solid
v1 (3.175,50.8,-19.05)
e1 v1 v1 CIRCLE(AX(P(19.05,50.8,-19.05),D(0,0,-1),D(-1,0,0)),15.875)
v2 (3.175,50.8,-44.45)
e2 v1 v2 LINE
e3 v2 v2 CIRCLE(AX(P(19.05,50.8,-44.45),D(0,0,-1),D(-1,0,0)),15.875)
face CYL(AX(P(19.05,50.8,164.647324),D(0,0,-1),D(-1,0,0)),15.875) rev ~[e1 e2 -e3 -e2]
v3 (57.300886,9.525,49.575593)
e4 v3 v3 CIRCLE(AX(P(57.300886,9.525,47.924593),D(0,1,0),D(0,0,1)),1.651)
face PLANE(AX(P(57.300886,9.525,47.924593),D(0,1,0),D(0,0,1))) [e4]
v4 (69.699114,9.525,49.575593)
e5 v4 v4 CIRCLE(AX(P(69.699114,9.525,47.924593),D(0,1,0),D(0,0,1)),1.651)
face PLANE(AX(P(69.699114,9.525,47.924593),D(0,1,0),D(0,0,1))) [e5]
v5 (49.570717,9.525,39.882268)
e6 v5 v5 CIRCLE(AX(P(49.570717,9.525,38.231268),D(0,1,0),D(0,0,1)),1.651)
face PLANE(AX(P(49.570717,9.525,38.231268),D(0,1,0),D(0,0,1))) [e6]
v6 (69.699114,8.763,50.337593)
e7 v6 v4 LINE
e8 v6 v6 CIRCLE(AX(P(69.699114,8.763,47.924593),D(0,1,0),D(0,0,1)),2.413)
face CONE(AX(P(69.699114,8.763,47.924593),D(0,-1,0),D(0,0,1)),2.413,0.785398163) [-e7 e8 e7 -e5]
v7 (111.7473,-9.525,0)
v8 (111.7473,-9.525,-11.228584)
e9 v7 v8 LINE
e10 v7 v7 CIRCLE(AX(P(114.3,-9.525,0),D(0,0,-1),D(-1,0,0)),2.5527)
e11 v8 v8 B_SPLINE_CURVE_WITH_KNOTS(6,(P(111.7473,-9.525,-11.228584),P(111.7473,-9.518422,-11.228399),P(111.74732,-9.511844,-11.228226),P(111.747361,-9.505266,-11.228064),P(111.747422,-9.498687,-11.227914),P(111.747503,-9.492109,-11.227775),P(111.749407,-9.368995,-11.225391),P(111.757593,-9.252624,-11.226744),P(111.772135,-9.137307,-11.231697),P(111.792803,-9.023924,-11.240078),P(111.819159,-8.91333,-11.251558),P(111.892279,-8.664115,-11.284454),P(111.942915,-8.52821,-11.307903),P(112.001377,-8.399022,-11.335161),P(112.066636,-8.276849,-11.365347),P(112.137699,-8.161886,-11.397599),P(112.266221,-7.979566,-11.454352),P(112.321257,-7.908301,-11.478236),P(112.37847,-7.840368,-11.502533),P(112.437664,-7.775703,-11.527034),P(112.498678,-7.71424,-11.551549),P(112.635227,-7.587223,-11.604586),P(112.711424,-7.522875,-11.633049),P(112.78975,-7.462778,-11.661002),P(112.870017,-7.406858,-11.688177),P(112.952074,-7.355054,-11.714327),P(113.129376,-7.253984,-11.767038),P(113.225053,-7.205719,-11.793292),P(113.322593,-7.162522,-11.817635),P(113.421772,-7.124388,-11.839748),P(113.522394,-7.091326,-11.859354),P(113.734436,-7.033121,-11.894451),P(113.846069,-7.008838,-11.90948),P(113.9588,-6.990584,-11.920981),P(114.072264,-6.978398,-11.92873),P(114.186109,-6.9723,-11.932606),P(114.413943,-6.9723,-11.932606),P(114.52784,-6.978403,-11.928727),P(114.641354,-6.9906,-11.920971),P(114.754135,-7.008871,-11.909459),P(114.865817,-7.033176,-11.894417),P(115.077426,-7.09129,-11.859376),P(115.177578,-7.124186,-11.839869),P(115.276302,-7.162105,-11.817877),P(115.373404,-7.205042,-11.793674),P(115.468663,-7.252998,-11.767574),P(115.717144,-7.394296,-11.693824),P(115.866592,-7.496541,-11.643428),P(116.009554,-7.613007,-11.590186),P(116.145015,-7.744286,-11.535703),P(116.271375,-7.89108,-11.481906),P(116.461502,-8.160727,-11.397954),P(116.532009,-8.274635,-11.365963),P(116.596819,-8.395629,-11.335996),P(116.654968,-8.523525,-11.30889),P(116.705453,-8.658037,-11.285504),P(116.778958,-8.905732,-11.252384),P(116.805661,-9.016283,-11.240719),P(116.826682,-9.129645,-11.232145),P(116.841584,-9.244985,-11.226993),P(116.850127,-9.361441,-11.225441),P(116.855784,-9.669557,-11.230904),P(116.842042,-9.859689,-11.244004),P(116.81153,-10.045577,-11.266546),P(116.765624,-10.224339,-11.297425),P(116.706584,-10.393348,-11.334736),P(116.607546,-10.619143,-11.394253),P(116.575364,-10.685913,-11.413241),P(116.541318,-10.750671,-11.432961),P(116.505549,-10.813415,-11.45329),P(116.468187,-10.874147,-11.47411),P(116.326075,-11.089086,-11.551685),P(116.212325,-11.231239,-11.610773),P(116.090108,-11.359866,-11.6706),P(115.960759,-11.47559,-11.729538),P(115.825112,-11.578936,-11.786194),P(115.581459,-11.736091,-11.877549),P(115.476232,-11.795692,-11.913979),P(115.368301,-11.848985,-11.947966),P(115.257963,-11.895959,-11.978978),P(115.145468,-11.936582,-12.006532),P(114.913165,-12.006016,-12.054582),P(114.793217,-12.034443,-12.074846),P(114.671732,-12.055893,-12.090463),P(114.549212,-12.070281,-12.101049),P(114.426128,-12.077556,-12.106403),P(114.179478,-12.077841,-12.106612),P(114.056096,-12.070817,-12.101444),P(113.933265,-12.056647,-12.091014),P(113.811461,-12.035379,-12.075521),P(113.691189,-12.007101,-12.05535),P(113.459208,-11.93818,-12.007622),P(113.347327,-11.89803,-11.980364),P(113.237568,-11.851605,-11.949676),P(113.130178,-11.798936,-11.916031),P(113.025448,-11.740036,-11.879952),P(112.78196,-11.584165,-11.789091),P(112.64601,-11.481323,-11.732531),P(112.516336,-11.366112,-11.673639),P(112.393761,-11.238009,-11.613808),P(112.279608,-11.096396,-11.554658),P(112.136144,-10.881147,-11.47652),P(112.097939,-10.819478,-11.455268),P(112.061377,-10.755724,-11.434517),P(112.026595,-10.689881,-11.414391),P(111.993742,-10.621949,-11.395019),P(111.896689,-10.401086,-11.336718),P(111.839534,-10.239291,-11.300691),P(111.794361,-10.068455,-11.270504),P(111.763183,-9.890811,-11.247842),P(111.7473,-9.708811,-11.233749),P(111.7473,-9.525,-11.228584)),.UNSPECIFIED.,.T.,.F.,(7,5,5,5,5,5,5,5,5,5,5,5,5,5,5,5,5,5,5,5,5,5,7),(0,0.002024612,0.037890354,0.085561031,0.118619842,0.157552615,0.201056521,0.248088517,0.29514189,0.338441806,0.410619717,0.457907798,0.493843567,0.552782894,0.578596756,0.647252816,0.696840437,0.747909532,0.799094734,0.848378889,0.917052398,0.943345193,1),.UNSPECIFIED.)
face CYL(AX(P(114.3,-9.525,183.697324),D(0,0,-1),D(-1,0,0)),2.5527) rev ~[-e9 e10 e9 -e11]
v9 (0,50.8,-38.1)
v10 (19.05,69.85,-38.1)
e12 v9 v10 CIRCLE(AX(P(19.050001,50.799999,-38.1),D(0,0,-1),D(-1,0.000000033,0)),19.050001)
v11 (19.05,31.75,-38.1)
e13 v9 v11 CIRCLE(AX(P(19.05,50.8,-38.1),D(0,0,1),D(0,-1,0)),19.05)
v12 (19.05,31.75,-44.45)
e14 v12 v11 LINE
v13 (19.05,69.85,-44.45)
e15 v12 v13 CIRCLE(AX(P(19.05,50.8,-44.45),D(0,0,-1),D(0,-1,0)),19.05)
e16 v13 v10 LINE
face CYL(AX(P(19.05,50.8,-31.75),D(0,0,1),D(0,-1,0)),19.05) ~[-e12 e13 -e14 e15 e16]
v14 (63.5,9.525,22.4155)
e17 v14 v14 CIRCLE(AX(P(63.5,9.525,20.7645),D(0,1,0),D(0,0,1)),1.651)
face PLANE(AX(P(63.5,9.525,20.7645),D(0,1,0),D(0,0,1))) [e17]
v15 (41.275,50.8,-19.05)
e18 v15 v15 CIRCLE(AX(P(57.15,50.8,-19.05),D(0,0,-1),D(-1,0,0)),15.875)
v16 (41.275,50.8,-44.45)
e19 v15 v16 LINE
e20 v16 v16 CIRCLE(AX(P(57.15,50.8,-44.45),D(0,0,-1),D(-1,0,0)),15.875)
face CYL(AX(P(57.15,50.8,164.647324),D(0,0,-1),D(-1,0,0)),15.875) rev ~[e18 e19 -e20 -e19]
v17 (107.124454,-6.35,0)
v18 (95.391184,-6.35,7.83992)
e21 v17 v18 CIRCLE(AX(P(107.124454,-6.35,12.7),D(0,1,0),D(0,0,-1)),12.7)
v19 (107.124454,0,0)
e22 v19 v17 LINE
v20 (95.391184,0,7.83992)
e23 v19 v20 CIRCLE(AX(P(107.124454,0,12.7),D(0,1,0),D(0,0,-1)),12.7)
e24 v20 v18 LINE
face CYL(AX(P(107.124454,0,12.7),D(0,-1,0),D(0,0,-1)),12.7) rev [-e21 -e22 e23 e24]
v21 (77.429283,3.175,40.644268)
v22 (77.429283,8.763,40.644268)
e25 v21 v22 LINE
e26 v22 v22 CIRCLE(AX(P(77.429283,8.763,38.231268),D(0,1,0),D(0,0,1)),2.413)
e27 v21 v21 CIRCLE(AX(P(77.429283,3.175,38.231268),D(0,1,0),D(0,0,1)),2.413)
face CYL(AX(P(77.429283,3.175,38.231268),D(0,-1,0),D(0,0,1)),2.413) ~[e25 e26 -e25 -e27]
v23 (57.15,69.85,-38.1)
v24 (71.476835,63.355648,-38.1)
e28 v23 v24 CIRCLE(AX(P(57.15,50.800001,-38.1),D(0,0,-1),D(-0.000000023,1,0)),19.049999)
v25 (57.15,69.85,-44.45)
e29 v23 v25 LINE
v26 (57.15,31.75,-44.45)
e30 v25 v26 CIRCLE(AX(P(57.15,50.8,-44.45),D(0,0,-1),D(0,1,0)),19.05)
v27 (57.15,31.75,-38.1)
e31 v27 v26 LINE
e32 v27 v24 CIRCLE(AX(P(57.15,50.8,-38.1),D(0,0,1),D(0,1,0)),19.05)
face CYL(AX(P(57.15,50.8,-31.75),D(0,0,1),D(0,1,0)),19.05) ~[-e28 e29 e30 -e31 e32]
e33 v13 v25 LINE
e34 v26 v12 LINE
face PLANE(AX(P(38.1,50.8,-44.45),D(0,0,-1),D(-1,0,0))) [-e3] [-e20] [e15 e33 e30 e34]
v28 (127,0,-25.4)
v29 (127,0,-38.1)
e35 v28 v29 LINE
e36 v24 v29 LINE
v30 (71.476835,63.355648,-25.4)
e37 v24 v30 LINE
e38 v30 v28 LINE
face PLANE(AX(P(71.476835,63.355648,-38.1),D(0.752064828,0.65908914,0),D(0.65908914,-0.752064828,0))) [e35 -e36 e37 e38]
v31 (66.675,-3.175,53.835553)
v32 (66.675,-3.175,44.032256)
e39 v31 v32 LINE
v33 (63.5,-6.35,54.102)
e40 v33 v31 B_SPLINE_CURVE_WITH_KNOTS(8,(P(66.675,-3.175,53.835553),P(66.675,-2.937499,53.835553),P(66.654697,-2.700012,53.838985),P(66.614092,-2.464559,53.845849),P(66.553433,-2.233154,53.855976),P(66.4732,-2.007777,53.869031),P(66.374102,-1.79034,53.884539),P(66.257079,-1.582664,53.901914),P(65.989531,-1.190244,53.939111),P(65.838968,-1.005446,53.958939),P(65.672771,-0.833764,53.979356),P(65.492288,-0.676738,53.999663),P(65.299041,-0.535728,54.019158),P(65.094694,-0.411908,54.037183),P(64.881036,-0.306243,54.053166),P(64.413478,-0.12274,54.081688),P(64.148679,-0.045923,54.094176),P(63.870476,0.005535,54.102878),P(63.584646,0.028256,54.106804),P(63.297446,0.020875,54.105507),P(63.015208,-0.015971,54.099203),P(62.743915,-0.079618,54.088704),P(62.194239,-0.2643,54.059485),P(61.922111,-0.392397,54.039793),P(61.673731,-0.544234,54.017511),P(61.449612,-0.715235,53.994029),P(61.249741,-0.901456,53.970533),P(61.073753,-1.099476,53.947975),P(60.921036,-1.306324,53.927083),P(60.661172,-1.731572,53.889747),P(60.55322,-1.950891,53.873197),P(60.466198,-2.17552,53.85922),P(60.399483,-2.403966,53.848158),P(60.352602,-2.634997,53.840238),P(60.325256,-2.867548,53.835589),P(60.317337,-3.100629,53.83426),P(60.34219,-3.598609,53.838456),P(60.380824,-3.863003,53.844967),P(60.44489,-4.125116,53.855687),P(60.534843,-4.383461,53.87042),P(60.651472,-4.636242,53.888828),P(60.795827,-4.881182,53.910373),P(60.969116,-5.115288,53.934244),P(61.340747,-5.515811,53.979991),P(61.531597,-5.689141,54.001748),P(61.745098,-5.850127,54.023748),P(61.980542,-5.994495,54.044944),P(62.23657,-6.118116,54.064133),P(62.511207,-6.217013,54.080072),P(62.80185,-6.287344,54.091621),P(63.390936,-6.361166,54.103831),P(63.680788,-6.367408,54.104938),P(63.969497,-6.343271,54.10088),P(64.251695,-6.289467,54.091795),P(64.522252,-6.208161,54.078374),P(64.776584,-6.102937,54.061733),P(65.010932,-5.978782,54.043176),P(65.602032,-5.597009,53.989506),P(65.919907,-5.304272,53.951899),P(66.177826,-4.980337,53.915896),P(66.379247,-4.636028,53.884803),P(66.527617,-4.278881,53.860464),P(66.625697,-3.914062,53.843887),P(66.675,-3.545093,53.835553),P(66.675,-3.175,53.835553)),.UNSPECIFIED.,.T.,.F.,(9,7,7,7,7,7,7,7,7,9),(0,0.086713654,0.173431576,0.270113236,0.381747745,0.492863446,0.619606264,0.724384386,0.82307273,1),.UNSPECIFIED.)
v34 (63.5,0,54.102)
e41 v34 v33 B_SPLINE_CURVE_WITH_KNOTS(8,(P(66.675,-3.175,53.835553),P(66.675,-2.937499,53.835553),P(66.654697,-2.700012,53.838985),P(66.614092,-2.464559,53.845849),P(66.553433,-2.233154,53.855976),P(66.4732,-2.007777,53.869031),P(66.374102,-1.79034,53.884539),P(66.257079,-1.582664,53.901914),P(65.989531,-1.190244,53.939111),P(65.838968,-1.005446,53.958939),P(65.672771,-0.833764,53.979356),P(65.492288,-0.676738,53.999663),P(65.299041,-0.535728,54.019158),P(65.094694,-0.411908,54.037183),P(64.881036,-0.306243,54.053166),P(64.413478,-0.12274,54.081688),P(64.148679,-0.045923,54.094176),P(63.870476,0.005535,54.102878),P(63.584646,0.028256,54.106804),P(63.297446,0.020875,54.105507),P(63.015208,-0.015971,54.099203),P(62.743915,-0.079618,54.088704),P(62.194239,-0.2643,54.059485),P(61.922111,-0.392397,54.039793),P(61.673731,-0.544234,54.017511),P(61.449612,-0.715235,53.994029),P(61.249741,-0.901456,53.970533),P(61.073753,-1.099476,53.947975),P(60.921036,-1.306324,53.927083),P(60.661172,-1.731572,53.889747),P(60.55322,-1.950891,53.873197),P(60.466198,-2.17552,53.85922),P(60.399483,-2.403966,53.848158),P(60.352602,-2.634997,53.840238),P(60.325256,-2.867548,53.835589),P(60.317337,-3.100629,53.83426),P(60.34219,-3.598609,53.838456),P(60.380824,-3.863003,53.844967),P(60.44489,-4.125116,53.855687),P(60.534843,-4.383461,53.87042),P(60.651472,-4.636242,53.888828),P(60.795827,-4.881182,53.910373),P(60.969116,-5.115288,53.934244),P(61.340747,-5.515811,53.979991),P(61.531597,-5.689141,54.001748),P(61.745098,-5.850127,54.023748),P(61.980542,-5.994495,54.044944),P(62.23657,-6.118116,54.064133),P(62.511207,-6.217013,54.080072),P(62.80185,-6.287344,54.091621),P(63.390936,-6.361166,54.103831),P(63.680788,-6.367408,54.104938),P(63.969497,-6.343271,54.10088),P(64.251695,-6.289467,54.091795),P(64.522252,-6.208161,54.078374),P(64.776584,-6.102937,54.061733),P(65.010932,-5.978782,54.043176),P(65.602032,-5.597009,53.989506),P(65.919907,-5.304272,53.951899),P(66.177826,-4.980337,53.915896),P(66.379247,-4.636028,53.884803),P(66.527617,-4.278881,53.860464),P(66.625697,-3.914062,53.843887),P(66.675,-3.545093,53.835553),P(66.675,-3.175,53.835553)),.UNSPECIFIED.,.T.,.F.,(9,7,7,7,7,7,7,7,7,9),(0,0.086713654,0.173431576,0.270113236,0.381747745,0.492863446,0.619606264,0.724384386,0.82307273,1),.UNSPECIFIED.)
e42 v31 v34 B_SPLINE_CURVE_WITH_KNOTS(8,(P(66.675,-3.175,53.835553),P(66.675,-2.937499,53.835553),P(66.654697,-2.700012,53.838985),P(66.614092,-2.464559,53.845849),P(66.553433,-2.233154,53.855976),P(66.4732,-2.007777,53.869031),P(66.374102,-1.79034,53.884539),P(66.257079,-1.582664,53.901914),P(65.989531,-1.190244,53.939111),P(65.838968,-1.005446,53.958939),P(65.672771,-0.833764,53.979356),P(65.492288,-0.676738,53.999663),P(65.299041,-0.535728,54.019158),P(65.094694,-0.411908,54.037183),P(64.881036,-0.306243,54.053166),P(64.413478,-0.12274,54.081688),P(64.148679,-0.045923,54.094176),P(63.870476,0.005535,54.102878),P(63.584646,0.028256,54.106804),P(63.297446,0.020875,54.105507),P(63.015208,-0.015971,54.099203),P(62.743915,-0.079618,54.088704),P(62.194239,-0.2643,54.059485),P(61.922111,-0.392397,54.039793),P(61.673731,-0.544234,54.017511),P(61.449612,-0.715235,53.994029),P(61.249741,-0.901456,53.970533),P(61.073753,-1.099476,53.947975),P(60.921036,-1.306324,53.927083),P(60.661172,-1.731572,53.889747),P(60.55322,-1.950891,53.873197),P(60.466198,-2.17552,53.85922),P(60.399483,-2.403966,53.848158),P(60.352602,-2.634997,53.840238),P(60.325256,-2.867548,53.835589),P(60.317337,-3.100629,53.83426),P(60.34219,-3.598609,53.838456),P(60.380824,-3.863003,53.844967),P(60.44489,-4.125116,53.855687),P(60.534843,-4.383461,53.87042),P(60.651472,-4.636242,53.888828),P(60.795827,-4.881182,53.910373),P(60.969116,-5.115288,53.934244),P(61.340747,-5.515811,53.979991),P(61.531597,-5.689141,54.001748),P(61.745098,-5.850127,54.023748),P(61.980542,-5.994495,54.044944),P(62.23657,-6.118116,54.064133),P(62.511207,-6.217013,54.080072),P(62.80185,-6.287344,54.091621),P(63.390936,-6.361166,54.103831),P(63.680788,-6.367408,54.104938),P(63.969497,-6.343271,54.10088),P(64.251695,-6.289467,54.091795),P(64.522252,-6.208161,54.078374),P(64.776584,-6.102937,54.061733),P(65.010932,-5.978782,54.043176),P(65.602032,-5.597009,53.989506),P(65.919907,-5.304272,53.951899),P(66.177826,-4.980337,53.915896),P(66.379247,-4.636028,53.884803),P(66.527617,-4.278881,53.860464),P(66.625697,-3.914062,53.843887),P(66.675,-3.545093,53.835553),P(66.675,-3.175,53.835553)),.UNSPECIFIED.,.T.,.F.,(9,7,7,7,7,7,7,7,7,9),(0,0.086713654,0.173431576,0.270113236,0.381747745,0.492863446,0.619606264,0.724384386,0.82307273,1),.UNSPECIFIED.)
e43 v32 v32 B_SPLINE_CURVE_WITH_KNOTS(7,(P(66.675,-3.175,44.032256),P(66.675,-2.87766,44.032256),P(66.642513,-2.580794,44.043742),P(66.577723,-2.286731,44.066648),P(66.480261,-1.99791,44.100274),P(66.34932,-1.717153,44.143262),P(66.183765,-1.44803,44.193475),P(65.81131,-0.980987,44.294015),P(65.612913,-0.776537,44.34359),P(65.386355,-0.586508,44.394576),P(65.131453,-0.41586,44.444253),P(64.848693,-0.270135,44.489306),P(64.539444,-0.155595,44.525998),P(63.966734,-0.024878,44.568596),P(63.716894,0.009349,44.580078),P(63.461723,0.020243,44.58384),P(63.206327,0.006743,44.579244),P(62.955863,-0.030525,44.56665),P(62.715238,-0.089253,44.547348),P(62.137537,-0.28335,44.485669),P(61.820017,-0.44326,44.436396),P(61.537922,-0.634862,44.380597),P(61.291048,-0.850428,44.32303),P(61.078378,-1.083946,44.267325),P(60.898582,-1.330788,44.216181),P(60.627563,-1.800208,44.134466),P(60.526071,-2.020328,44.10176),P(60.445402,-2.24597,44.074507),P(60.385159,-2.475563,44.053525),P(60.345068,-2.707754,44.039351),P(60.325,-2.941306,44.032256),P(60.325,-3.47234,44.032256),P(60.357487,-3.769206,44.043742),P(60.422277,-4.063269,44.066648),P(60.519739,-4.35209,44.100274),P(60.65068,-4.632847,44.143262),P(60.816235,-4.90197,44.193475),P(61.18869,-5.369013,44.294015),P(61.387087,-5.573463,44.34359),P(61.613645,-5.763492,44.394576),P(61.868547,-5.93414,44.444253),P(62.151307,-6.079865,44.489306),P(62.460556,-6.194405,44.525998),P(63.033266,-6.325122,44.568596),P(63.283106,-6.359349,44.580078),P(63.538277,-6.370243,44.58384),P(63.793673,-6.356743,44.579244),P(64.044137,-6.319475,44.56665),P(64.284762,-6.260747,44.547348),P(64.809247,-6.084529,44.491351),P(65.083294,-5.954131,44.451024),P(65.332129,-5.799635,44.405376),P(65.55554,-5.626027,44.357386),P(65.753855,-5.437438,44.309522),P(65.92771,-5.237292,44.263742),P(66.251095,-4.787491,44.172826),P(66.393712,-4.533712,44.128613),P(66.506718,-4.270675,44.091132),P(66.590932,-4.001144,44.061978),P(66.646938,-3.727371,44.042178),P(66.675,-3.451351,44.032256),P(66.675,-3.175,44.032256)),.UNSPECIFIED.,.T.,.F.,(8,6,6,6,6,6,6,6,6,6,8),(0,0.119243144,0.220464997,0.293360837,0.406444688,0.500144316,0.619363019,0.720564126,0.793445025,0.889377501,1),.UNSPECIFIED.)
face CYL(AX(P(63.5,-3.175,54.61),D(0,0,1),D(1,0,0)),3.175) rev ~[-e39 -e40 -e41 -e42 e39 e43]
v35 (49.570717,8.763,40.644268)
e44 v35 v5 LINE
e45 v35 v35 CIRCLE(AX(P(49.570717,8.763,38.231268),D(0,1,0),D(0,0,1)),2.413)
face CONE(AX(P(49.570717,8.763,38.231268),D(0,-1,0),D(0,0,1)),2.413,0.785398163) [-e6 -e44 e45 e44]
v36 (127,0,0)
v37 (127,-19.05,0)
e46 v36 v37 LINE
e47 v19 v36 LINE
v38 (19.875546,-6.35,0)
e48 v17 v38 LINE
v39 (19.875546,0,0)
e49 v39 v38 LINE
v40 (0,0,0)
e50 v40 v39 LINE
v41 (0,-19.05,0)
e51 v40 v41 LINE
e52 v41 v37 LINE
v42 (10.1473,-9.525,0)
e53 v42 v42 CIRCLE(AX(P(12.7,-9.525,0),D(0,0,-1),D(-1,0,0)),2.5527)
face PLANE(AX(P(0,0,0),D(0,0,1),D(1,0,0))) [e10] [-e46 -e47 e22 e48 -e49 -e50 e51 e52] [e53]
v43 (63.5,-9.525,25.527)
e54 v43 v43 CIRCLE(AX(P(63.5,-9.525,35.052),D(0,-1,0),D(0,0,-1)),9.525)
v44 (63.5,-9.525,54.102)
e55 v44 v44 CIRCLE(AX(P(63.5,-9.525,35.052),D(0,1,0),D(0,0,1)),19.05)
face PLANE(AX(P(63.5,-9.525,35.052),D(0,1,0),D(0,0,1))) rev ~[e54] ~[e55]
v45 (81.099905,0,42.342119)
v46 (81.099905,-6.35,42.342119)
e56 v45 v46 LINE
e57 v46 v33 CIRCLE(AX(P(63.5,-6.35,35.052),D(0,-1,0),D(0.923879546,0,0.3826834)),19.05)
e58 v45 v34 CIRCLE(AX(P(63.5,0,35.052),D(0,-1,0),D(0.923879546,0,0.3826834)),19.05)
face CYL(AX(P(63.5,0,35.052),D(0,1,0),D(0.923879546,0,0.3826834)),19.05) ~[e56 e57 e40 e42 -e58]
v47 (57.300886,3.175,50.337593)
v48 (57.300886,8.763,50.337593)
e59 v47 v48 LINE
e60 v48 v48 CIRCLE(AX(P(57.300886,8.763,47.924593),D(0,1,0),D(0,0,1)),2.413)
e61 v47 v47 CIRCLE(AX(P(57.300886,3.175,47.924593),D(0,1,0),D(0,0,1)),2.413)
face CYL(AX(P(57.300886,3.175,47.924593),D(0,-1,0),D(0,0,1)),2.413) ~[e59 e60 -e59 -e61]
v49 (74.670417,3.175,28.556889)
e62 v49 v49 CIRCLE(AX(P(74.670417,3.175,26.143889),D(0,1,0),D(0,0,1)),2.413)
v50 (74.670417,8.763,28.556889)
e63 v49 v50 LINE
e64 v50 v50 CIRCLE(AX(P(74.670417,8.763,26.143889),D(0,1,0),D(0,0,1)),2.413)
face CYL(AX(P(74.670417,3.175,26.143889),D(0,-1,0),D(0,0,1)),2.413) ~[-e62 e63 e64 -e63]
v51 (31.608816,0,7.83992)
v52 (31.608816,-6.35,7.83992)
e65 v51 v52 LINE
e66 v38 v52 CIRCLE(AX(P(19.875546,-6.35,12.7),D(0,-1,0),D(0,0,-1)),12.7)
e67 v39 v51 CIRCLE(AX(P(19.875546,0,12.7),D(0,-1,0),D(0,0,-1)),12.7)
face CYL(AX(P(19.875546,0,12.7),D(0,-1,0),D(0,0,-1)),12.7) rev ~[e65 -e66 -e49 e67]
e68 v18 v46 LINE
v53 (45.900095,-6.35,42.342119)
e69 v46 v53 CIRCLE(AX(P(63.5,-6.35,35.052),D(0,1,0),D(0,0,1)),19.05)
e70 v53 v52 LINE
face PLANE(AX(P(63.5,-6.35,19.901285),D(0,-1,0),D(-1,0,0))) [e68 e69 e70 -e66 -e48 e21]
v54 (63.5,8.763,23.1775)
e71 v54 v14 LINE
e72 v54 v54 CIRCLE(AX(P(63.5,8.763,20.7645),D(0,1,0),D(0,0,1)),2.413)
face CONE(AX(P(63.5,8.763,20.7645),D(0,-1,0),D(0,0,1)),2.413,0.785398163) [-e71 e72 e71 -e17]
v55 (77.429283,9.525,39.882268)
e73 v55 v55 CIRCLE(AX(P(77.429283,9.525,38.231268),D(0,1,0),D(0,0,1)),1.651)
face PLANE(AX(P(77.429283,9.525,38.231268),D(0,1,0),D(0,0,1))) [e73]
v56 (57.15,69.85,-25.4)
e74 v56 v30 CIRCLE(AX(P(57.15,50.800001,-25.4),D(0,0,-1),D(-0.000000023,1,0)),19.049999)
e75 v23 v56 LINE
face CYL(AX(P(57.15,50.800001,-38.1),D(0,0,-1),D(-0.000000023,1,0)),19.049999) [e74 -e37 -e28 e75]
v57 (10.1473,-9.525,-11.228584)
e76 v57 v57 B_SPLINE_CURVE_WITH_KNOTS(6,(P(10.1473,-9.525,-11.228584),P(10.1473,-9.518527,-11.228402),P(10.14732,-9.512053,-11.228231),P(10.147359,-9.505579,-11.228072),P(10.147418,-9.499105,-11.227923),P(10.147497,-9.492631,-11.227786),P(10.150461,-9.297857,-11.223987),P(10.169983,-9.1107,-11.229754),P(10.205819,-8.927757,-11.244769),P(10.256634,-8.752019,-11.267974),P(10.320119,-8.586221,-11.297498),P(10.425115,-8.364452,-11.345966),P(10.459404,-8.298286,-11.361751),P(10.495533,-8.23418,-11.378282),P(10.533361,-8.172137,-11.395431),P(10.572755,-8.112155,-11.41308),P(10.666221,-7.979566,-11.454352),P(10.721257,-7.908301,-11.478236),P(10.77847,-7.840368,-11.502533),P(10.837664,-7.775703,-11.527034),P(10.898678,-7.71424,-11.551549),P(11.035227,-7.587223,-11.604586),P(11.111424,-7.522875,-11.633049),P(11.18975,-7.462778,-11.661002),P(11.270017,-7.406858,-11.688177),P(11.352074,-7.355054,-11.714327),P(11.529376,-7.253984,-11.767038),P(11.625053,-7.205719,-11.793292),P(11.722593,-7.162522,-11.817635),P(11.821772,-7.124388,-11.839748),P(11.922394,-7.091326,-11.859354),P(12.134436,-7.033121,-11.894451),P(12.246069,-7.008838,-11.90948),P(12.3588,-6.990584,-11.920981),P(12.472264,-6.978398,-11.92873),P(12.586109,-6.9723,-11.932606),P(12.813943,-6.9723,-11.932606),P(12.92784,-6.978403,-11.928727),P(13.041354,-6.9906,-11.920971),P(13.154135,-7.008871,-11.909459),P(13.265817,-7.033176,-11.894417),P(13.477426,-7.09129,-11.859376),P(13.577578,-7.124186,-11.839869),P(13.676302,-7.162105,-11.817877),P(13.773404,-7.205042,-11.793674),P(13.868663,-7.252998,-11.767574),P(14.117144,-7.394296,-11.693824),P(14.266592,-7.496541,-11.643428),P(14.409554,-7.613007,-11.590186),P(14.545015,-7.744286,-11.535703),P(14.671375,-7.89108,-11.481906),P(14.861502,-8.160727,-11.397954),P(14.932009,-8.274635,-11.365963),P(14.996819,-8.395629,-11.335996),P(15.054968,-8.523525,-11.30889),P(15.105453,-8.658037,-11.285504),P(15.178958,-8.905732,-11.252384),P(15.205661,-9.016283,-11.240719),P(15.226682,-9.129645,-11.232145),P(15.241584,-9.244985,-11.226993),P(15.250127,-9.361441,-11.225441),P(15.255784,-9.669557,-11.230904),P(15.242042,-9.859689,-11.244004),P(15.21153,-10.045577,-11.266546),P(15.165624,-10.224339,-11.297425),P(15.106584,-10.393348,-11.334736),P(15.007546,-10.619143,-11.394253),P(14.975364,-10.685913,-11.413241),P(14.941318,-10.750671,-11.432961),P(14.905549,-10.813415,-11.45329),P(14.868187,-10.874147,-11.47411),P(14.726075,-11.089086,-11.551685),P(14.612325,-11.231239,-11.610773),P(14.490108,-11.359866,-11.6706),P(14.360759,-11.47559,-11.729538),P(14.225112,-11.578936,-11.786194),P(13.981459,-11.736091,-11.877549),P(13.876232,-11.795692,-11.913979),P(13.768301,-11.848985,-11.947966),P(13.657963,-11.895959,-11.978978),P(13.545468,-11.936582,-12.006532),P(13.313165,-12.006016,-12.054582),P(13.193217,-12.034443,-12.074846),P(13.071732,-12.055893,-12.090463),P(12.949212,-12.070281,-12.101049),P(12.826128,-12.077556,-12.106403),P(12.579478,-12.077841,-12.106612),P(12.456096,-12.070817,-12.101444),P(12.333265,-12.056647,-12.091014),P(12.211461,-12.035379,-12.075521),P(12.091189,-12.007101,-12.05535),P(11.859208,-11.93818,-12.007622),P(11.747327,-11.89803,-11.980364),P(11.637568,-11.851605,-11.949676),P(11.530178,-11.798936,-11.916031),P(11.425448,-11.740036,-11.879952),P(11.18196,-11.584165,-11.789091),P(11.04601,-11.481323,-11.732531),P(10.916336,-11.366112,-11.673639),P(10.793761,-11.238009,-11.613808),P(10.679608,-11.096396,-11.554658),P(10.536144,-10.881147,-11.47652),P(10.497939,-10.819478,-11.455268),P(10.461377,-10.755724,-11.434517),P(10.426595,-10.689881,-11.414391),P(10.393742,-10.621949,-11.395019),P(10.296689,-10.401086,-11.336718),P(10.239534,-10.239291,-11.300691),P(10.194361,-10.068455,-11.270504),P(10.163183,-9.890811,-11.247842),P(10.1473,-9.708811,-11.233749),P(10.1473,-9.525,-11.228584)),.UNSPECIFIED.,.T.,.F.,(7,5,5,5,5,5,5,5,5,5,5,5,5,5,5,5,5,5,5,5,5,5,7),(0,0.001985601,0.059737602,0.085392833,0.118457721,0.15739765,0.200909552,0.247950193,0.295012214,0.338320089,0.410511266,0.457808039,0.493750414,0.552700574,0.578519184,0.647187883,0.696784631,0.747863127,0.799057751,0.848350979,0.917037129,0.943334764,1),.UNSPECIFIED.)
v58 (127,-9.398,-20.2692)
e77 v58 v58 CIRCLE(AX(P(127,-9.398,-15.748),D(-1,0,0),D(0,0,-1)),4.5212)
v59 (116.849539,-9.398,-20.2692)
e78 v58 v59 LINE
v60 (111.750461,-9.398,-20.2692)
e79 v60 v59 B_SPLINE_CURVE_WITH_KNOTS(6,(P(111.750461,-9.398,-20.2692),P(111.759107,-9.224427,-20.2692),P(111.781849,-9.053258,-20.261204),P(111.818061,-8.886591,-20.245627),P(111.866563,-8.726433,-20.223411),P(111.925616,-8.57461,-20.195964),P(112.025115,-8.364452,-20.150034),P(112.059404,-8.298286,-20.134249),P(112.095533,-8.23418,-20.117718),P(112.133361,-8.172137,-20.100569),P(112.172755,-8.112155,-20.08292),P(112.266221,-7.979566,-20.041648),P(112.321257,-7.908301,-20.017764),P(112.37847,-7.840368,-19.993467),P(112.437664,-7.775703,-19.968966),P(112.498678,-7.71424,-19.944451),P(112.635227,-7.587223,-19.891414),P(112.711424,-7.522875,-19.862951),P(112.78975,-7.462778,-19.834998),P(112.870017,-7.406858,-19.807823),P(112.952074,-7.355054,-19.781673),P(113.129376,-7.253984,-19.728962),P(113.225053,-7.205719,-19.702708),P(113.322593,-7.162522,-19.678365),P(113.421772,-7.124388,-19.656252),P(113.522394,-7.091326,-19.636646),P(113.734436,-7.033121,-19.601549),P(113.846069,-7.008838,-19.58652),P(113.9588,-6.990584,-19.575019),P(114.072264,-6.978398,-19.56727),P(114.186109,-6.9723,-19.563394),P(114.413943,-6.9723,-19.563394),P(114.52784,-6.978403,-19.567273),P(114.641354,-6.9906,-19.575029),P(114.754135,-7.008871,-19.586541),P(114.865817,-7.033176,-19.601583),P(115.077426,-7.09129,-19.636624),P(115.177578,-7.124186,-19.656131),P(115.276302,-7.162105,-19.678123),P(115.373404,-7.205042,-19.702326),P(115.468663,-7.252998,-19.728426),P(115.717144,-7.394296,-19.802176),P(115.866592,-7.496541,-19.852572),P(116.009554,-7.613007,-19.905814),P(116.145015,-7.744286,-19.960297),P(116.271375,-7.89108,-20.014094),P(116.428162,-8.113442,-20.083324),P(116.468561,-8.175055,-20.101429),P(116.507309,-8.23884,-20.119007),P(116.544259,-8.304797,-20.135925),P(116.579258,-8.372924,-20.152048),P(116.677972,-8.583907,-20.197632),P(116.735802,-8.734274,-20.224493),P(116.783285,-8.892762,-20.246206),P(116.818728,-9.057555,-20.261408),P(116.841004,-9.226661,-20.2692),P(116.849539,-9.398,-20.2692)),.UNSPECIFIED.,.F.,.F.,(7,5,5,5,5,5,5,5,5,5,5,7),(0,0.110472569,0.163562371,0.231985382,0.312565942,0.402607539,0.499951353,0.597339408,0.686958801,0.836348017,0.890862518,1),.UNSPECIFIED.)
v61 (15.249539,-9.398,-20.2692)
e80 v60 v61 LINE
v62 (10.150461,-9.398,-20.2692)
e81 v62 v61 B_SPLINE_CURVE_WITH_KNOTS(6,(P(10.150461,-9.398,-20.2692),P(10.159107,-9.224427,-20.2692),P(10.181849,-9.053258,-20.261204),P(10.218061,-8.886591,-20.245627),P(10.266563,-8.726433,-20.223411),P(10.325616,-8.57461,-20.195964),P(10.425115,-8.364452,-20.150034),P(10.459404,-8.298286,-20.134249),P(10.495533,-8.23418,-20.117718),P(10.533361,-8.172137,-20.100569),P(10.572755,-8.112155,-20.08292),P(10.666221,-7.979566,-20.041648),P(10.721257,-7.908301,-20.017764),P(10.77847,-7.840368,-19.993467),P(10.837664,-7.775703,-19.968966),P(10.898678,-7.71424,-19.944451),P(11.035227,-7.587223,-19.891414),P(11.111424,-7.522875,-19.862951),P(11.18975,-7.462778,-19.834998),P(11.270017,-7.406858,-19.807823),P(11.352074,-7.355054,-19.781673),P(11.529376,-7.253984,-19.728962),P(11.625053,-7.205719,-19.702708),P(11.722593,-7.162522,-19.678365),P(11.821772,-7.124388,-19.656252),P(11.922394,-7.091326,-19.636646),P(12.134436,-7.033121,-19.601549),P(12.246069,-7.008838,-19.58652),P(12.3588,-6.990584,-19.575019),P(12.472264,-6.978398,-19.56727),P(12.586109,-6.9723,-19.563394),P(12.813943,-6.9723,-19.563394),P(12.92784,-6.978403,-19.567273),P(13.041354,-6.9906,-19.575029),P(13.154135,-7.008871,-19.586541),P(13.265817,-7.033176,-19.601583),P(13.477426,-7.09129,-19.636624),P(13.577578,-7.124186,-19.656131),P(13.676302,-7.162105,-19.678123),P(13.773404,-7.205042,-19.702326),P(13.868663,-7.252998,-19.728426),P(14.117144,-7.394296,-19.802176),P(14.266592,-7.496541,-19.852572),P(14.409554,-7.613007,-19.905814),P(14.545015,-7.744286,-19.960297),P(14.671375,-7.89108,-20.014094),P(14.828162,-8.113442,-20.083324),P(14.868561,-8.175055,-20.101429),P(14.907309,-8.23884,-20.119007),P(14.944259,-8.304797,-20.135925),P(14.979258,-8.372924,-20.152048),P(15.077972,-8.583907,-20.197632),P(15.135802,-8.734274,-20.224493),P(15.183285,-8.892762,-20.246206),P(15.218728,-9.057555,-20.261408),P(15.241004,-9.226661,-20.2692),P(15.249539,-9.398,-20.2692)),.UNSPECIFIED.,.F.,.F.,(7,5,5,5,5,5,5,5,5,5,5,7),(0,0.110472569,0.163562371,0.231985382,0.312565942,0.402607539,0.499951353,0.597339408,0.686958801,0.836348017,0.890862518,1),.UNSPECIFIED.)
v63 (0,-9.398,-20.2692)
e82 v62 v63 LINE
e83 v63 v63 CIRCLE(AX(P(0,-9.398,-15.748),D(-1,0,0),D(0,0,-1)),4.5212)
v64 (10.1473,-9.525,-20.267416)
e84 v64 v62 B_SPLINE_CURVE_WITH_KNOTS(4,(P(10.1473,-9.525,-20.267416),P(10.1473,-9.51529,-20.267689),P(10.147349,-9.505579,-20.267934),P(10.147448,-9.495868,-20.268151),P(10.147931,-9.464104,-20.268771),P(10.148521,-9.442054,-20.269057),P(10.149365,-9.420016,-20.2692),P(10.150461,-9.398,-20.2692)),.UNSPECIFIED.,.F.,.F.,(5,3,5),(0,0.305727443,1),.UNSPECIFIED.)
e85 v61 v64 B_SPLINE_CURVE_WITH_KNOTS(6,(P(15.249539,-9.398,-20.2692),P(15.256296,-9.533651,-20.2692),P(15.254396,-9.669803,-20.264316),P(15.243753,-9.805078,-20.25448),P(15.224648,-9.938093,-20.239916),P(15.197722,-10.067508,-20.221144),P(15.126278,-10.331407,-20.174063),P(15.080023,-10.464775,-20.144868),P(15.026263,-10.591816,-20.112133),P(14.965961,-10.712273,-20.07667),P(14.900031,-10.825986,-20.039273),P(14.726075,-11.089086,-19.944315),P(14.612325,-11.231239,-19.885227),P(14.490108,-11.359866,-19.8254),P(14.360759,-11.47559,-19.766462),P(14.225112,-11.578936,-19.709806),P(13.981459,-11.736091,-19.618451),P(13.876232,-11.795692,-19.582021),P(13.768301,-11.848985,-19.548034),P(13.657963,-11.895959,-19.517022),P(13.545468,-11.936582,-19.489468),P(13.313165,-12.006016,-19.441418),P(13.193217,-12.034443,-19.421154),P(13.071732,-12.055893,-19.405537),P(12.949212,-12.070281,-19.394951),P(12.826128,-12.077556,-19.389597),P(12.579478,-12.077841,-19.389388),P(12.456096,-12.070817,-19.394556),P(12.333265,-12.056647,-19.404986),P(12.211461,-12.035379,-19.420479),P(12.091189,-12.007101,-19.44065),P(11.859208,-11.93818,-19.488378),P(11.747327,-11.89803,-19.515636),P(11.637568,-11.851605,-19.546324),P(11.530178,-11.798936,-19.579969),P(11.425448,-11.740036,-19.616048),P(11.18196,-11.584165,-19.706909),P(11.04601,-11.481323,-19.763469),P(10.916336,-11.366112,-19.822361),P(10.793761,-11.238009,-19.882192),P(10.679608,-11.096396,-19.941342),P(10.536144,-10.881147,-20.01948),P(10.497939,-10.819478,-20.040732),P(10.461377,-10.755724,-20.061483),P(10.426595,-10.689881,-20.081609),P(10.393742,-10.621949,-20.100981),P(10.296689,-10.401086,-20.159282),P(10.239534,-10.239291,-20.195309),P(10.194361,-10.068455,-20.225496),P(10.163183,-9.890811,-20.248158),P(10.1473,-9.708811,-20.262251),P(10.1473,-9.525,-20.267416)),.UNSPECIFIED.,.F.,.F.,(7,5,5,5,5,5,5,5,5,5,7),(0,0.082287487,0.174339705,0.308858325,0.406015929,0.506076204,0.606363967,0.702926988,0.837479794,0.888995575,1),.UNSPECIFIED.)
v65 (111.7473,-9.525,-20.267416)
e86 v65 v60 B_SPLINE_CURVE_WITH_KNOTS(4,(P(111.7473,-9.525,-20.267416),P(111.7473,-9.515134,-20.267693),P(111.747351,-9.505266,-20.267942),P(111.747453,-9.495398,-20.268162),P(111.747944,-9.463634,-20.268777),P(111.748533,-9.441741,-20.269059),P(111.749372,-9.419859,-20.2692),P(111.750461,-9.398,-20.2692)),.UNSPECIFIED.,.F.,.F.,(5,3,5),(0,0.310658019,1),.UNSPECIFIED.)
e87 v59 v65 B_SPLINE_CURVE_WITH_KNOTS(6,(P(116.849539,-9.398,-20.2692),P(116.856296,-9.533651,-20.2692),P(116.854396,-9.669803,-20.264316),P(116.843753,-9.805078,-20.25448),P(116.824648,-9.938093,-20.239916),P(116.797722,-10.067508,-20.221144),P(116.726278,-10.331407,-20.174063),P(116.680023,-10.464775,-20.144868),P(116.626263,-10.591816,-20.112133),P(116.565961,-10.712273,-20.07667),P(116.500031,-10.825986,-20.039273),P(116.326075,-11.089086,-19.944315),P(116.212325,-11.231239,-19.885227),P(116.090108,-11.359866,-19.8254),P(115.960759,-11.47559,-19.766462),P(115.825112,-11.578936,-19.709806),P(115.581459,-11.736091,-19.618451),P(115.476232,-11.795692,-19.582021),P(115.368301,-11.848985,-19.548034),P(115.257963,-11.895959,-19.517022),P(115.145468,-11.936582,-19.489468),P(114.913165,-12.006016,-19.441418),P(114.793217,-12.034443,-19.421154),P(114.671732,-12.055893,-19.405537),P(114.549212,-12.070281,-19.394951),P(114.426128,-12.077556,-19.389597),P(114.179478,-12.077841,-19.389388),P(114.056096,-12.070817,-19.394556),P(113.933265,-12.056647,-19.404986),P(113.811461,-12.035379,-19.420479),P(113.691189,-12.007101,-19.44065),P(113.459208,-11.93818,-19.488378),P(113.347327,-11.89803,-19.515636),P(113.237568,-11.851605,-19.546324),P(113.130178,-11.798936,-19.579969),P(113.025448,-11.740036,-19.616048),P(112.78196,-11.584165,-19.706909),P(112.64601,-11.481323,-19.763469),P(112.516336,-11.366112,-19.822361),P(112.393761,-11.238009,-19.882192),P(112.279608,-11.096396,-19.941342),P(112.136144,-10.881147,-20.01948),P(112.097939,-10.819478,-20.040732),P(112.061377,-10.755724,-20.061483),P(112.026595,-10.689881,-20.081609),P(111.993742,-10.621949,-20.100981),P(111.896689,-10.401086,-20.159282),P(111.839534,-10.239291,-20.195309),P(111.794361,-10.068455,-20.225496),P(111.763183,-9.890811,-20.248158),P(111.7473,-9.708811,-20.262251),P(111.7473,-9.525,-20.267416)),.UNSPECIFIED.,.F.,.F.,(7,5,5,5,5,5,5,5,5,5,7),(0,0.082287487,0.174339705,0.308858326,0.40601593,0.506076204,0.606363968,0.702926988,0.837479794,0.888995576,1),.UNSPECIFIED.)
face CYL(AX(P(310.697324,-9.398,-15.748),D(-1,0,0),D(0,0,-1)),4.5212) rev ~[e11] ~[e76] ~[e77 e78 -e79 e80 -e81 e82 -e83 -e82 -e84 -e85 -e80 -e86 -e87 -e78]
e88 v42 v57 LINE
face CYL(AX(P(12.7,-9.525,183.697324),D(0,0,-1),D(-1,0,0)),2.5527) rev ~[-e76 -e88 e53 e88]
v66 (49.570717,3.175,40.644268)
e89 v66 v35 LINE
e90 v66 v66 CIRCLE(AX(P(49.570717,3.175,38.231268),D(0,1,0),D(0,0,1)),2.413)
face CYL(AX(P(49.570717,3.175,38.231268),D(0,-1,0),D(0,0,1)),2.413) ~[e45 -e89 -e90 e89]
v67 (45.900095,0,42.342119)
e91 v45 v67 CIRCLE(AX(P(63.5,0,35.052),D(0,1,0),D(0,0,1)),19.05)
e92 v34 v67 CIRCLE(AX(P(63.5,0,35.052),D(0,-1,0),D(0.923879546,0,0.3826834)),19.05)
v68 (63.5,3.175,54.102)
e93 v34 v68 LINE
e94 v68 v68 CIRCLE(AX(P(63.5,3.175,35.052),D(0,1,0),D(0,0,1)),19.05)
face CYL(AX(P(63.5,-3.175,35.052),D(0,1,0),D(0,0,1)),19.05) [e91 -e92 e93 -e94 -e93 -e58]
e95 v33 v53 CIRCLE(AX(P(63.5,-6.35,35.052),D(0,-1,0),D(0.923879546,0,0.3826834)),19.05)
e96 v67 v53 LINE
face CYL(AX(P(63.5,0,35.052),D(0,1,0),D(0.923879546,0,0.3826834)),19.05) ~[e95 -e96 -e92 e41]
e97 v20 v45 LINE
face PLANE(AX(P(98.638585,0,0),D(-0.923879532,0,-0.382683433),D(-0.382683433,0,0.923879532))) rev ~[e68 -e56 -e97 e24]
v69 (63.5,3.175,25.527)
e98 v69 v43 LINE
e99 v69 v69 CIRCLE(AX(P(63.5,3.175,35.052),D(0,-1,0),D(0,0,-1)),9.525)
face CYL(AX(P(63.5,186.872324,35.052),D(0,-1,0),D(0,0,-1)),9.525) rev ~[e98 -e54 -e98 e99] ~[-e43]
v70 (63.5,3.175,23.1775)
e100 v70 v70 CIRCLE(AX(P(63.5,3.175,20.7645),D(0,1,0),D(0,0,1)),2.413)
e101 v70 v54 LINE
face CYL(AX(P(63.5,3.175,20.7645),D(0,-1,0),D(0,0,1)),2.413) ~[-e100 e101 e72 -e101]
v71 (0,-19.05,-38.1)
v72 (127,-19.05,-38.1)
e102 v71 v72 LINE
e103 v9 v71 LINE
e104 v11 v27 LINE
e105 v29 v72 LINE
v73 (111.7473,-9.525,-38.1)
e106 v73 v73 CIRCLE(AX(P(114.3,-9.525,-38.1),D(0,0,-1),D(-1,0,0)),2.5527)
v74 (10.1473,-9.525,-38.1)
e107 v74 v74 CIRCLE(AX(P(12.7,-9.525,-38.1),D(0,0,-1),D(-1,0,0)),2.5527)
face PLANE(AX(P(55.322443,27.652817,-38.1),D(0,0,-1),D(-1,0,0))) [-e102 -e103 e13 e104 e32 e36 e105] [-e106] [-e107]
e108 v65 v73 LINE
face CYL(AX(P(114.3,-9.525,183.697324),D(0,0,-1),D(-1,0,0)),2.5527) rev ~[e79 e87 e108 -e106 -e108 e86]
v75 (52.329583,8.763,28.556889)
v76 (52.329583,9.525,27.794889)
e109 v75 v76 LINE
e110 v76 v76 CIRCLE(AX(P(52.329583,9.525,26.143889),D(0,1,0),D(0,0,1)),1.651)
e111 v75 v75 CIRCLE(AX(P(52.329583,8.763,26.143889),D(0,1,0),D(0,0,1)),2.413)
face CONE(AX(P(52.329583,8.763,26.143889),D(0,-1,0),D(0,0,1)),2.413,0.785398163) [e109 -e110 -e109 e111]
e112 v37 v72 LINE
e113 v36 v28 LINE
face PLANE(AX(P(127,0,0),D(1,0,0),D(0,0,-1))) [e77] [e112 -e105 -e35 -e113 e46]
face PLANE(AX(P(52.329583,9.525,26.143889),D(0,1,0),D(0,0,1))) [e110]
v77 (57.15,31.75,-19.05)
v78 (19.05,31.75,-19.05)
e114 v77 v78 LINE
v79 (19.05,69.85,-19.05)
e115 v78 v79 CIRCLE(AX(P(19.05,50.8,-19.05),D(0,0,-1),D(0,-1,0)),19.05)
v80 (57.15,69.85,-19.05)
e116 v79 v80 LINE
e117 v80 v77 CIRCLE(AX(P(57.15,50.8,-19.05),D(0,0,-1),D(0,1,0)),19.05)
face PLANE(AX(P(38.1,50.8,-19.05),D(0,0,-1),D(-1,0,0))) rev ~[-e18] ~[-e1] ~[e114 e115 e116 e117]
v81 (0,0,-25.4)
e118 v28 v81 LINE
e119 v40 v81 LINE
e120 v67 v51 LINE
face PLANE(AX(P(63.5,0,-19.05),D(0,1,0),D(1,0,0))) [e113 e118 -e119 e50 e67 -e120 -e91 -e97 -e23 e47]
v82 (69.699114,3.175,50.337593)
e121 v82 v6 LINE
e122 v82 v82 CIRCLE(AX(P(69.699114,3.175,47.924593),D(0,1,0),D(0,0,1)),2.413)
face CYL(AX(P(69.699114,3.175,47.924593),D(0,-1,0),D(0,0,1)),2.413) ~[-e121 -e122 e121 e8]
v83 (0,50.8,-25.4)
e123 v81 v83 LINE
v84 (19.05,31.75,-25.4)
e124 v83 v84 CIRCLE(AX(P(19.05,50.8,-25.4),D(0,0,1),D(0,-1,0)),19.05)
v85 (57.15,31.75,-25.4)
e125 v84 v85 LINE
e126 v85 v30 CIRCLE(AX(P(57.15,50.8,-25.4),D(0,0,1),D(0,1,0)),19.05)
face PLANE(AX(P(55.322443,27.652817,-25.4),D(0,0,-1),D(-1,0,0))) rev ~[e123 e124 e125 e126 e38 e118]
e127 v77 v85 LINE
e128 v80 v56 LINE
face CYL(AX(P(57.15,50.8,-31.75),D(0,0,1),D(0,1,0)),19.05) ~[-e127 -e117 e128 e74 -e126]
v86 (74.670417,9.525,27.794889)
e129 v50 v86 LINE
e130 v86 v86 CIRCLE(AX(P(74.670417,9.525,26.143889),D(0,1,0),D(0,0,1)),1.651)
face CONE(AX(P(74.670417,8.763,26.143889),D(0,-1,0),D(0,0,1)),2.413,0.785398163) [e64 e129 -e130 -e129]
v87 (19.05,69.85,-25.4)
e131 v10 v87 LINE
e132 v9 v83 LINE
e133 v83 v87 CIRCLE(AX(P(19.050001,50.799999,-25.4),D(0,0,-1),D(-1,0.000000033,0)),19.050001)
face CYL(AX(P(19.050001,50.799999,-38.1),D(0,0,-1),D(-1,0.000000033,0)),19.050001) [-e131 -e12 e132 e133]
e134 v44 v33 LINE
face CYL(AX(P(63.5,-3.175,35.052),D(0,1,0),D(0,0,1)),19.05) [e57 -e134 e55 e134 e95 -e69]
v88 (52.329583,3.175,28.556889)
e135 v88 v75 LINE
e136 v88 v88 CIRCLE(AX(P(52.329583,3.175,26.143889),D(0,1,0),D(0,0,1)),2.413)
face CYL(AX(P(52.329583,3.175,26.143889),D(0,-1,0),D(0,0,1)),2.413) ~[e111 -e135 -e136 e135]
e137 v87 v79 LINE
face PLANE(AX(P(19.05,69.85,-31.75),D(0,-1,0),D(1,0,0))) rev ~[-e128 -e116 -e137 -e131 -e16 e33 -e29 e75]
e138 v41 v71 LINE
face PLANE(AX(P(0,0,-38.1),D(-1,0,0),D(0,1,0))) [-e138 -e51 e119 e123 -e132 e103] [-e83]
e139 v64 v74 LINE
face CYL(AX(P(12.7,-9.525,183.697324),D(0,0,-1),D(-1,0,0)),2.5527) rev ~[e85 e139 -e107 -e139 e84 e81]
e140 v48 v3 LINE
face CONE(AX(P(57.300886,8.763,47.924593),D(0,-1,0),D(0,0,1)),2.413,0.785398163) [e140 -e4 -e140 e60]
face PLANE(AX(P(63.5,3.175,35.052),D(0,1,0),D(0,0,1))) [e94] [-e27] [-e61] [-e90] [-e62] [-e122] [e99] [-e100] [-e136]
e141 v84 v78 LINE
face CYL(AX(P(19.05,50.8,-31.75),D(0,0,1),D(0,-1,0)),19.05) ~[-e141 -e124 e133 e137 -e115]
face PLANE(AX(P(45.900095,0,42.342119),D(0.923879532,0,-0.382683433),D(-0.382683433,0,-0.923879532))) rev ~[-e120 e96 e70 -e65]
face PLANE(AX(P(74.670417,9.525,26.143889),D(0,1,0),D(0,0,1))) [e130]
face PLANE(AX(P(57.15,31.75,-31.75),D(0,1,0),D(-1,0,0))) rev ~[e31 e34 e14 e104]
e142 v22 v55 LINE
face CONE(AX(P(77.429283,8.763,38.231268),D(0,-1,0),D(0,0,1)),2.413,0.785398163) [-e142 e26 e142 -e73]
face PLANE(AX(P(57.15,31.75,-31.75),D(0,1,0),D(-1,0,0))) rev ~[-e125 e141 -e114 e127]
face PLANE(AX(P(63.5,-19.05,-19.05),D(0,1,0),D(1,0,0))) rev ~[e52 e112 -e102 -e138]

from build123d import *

# Parameters (mm, degrees)
SKETCH1_W                    = 127
SKETCH1_H                    = 38.1
BOSS_EXTRUDE1_DEPTH          = 19.05
BOSS_EXTRUDE2_DEPTH          = 6.35
FILLET1_R                    = 12.7
SKETCH3_R                    = 19.05
BOSS_EXTRUDE3_DEPTH          = 6.35
BOSS_EXTRUDE4_DEPTH          = 12.7
BOSS_EXTRUDE6_DEPTH          = 12.7
F_3_8_1_25_DIAMETER_HOLE1_D  = 31.75
F_1_4_20_TAPPED_HOLE1_D      = 5.1054
SKETCH11_R                   = 3.175
CUT_EXTRUDE1_DEPTH           = 19.05
F_1_4_0_356_DIAMETER_HOLE1_D = 9.0424
F_1_4_0_75_DIAMETER_HOLE1_D  = 19.05
SKETCH16_R                   = 2.413
BOSS_EXTRUDE7_DEPTH          = 6.35
CHAMFER1_SIZE                = 0.762


with BuildPart() as part:
    # Sketch1 → Boss-Extrude1 (new body)
    with BuildSketch(Plane(origin=(0, 0, 0), x_dir=(1, 0, 0), z_dir=(0, 1, 0))):
        with Locations((63.5, 19.05)):
            Rectangle(SKETCH1_W, SKETCH1_H)
    extrude(amount=-BOSS_EXTRUDE1_DEPTH)

    # Sketch2 → Boss-Extrude2 (add)
    with BuildSketch(Plane(origin=(0, 0, 0), x_dir=(1, 0, 0), z_dir=(0, 1, 0))):
        with BuildLine():
            Line((28.361415, 0), (98.638585, 0))
            Line((98.638585, 0), (81.099905, -42.342119))
            ThreePointArc((81.099905, -42.342119), (63.5, -54.102), (45.900095, -42.342119))
            Line((45.900095, -42.342119), (28.361415, 0))
        make_face()
    extrude(amount=-BOSS_EXTRUDE2_DEPTH)

    # Fillet1
    fillet1_edges = [part.edges().sort_by_distance(p)[0] for p in [
        (28.361415, -3.175, 0),
        (98.638585, -3.175, 0),
    ]]
    fillet(fillet1_edges, radius=FILLET1_R)

    # Sketch3 → Boss-Extrude3 (add, symmetric)
    with BuildSketch(Plane(origin=(0, -3.175, 0), x_dir=(1, 0, 0), z_dir=(0, 1, 0))):
        with Locations(Location((63.5, -35.052, 0), (0, 0, 270))):
            Circle(SKETCH3_R)
    extrude(amount=BOSS_EXTRUDE3_DEPTH, both=True)

    # Sketch4 → Boss-Extrude4 (add)
    with BuildSketch(Plane.XY.offset(-38.1)):
        with BuildLine():
            Line((0, 0), (0, 50.8))
            ThreePointArc((0, 50.8), (5.579616, 64.270384), (19.05, 69.85))
            Line((19.05, 69.85), (57.15, 69.85))
            ThreePointArc((57.15, 69.85), (65.01503, 68.150614), (71.476835, 63.355648))
            Line((71.476835, 63.355648), (127, 0))
            Line((127, 0), (0, 0))
        make_face()
    extrude(amount=BOSS_EXTRUDE4_DEPTH)

    # Sketch7 → Boss-Extrude6 (add, symmetric)
    with BuildSketch(Plane.XY.offset(-31.75)):
        with BuildLine():
            Line((19.05, 69.85), (57.15, 69.85))
            ThreePointArc((57.15, 69.85), (76.2, 50.8), (57.15, 31.75))
            Line((57.15, 31.75), (19.05, 31.75))
            ThreePointArc((19.05, 31.75), (0, 50.8), (19.05, 69.85))
        make_face()
    extrude(amount=BOSS_EXTRUDE6_DEPTH, both=True)

    # 3/8 (1.25) Diameter Hole1 (through all)
    with Locations(Plane(origin=(19.05, 50.8, -19.05), x_dir=(1, 0, 0), z_dir=(0, 0, 1))):
        with Locations((0, 0), (38.1, 0)):
            Hole(F_3_8_1_25_DIAMETER_HOLE1_D / 2)

    # 1/4-20 Tapped Hole1 (through all)
    with Locations(Plane(origin=(12.7, -9.525, 0), x_dir=(1, 0, 0), z_dir=(0, 0, 1))):
        with Locations((0, 0), (101.6, 0)):
            Hole(F_1_4_20_TAPPED_HOLE1_D / 2)

    # Sketch11 → Cut-Extrude1 (cut)
    with BuildSketch(Plane.XY.offset(54.61)):
        with Locations((63.5, -3.175)):
            Circle(SKETCH11_R)
    extrude(amount=-CUT_EXTRUDE1_DEPTH, mode=Mode.SUBTRACT)

    # 1/4 (0.356) Diameter Hole1 (through all)
    with Locations(Plane(origin=(127, -9.398, -15.748), x_dir=(0, 0, 1), z_dir=(1, 0, 0))):
        with Locations((0, 0)):
            Hole(F_1_4_0_356_DIAMETER_HOLE1_D / 2)

    # 1/4 (0.75) Diameter Hole1 (through all)
    with Locations(Plane(origin=(63.5, 3.175, 35.052), x_dir=(0, 0, 1), z_dir=(0, 1, 0))):
        with Locations((0, 0)):
            Hole(F_1_4_0_75_DIAMETER_HOLE1_D / 2)

    # Sketch16 → Boss-Extrude7 (add)
    with BuildSketch(Plane(origin=(0, 3.175, 0), x_dir=(1, 0, 0), z_dir=(0, 1, 0))):
        with Locations(Location((63.5, -20.7645, 0), (0, 0, 270))):
            Circle(SKETCH16_R)
        with Locations(Location((74.670417, -26.143889, 0), (0, 0, 270))):
            Circle(SKETCH16_R)
        with Locations(Location((77.429283, -38.231268, 0), (0, 0, 270))):
            Circle(SKETCH16_R)
        with Locations(Location((69.699114, -47.924593, 0), (0, 0, 270))):
            Circle(SKETCH16_R)
        with Locations(Location((57.300886, -47.924593, 0), (0, 0, 270))):
            Circle(SKETCH16_R)
        with Locations(Location((49.570717, -38.231268, 0), (0, 0, 270))):
            Circle(SKETCH16_R)
        with Locations(Location((52.329583, -26.143889, 0), (0, 0, 270))):
            Circle(SKETCH16_R)
    extrude(amount=BOSS_EXTRUDE7_DEPTH)

    # Chamfer1
    chamfer1_edges = [part.edges().sort_by_distance(p)[0] for p in [
        (63.5, 9.525, 18.3515),
        (74.670417, 9.525, 23.730889),
        (77.429283, 9.525, 35.818268),
        (69.699114, 9.525, 45.511593),
        (57.300886, 9.525, 45.511593),
        (49.570717, 9.525, 35.818268),
        (52.329583, 9.525, 23.730889),
    ]]
    chamfer(chamfer1_edges, length=CHAMFER1_SIZE)


solid = part.part
